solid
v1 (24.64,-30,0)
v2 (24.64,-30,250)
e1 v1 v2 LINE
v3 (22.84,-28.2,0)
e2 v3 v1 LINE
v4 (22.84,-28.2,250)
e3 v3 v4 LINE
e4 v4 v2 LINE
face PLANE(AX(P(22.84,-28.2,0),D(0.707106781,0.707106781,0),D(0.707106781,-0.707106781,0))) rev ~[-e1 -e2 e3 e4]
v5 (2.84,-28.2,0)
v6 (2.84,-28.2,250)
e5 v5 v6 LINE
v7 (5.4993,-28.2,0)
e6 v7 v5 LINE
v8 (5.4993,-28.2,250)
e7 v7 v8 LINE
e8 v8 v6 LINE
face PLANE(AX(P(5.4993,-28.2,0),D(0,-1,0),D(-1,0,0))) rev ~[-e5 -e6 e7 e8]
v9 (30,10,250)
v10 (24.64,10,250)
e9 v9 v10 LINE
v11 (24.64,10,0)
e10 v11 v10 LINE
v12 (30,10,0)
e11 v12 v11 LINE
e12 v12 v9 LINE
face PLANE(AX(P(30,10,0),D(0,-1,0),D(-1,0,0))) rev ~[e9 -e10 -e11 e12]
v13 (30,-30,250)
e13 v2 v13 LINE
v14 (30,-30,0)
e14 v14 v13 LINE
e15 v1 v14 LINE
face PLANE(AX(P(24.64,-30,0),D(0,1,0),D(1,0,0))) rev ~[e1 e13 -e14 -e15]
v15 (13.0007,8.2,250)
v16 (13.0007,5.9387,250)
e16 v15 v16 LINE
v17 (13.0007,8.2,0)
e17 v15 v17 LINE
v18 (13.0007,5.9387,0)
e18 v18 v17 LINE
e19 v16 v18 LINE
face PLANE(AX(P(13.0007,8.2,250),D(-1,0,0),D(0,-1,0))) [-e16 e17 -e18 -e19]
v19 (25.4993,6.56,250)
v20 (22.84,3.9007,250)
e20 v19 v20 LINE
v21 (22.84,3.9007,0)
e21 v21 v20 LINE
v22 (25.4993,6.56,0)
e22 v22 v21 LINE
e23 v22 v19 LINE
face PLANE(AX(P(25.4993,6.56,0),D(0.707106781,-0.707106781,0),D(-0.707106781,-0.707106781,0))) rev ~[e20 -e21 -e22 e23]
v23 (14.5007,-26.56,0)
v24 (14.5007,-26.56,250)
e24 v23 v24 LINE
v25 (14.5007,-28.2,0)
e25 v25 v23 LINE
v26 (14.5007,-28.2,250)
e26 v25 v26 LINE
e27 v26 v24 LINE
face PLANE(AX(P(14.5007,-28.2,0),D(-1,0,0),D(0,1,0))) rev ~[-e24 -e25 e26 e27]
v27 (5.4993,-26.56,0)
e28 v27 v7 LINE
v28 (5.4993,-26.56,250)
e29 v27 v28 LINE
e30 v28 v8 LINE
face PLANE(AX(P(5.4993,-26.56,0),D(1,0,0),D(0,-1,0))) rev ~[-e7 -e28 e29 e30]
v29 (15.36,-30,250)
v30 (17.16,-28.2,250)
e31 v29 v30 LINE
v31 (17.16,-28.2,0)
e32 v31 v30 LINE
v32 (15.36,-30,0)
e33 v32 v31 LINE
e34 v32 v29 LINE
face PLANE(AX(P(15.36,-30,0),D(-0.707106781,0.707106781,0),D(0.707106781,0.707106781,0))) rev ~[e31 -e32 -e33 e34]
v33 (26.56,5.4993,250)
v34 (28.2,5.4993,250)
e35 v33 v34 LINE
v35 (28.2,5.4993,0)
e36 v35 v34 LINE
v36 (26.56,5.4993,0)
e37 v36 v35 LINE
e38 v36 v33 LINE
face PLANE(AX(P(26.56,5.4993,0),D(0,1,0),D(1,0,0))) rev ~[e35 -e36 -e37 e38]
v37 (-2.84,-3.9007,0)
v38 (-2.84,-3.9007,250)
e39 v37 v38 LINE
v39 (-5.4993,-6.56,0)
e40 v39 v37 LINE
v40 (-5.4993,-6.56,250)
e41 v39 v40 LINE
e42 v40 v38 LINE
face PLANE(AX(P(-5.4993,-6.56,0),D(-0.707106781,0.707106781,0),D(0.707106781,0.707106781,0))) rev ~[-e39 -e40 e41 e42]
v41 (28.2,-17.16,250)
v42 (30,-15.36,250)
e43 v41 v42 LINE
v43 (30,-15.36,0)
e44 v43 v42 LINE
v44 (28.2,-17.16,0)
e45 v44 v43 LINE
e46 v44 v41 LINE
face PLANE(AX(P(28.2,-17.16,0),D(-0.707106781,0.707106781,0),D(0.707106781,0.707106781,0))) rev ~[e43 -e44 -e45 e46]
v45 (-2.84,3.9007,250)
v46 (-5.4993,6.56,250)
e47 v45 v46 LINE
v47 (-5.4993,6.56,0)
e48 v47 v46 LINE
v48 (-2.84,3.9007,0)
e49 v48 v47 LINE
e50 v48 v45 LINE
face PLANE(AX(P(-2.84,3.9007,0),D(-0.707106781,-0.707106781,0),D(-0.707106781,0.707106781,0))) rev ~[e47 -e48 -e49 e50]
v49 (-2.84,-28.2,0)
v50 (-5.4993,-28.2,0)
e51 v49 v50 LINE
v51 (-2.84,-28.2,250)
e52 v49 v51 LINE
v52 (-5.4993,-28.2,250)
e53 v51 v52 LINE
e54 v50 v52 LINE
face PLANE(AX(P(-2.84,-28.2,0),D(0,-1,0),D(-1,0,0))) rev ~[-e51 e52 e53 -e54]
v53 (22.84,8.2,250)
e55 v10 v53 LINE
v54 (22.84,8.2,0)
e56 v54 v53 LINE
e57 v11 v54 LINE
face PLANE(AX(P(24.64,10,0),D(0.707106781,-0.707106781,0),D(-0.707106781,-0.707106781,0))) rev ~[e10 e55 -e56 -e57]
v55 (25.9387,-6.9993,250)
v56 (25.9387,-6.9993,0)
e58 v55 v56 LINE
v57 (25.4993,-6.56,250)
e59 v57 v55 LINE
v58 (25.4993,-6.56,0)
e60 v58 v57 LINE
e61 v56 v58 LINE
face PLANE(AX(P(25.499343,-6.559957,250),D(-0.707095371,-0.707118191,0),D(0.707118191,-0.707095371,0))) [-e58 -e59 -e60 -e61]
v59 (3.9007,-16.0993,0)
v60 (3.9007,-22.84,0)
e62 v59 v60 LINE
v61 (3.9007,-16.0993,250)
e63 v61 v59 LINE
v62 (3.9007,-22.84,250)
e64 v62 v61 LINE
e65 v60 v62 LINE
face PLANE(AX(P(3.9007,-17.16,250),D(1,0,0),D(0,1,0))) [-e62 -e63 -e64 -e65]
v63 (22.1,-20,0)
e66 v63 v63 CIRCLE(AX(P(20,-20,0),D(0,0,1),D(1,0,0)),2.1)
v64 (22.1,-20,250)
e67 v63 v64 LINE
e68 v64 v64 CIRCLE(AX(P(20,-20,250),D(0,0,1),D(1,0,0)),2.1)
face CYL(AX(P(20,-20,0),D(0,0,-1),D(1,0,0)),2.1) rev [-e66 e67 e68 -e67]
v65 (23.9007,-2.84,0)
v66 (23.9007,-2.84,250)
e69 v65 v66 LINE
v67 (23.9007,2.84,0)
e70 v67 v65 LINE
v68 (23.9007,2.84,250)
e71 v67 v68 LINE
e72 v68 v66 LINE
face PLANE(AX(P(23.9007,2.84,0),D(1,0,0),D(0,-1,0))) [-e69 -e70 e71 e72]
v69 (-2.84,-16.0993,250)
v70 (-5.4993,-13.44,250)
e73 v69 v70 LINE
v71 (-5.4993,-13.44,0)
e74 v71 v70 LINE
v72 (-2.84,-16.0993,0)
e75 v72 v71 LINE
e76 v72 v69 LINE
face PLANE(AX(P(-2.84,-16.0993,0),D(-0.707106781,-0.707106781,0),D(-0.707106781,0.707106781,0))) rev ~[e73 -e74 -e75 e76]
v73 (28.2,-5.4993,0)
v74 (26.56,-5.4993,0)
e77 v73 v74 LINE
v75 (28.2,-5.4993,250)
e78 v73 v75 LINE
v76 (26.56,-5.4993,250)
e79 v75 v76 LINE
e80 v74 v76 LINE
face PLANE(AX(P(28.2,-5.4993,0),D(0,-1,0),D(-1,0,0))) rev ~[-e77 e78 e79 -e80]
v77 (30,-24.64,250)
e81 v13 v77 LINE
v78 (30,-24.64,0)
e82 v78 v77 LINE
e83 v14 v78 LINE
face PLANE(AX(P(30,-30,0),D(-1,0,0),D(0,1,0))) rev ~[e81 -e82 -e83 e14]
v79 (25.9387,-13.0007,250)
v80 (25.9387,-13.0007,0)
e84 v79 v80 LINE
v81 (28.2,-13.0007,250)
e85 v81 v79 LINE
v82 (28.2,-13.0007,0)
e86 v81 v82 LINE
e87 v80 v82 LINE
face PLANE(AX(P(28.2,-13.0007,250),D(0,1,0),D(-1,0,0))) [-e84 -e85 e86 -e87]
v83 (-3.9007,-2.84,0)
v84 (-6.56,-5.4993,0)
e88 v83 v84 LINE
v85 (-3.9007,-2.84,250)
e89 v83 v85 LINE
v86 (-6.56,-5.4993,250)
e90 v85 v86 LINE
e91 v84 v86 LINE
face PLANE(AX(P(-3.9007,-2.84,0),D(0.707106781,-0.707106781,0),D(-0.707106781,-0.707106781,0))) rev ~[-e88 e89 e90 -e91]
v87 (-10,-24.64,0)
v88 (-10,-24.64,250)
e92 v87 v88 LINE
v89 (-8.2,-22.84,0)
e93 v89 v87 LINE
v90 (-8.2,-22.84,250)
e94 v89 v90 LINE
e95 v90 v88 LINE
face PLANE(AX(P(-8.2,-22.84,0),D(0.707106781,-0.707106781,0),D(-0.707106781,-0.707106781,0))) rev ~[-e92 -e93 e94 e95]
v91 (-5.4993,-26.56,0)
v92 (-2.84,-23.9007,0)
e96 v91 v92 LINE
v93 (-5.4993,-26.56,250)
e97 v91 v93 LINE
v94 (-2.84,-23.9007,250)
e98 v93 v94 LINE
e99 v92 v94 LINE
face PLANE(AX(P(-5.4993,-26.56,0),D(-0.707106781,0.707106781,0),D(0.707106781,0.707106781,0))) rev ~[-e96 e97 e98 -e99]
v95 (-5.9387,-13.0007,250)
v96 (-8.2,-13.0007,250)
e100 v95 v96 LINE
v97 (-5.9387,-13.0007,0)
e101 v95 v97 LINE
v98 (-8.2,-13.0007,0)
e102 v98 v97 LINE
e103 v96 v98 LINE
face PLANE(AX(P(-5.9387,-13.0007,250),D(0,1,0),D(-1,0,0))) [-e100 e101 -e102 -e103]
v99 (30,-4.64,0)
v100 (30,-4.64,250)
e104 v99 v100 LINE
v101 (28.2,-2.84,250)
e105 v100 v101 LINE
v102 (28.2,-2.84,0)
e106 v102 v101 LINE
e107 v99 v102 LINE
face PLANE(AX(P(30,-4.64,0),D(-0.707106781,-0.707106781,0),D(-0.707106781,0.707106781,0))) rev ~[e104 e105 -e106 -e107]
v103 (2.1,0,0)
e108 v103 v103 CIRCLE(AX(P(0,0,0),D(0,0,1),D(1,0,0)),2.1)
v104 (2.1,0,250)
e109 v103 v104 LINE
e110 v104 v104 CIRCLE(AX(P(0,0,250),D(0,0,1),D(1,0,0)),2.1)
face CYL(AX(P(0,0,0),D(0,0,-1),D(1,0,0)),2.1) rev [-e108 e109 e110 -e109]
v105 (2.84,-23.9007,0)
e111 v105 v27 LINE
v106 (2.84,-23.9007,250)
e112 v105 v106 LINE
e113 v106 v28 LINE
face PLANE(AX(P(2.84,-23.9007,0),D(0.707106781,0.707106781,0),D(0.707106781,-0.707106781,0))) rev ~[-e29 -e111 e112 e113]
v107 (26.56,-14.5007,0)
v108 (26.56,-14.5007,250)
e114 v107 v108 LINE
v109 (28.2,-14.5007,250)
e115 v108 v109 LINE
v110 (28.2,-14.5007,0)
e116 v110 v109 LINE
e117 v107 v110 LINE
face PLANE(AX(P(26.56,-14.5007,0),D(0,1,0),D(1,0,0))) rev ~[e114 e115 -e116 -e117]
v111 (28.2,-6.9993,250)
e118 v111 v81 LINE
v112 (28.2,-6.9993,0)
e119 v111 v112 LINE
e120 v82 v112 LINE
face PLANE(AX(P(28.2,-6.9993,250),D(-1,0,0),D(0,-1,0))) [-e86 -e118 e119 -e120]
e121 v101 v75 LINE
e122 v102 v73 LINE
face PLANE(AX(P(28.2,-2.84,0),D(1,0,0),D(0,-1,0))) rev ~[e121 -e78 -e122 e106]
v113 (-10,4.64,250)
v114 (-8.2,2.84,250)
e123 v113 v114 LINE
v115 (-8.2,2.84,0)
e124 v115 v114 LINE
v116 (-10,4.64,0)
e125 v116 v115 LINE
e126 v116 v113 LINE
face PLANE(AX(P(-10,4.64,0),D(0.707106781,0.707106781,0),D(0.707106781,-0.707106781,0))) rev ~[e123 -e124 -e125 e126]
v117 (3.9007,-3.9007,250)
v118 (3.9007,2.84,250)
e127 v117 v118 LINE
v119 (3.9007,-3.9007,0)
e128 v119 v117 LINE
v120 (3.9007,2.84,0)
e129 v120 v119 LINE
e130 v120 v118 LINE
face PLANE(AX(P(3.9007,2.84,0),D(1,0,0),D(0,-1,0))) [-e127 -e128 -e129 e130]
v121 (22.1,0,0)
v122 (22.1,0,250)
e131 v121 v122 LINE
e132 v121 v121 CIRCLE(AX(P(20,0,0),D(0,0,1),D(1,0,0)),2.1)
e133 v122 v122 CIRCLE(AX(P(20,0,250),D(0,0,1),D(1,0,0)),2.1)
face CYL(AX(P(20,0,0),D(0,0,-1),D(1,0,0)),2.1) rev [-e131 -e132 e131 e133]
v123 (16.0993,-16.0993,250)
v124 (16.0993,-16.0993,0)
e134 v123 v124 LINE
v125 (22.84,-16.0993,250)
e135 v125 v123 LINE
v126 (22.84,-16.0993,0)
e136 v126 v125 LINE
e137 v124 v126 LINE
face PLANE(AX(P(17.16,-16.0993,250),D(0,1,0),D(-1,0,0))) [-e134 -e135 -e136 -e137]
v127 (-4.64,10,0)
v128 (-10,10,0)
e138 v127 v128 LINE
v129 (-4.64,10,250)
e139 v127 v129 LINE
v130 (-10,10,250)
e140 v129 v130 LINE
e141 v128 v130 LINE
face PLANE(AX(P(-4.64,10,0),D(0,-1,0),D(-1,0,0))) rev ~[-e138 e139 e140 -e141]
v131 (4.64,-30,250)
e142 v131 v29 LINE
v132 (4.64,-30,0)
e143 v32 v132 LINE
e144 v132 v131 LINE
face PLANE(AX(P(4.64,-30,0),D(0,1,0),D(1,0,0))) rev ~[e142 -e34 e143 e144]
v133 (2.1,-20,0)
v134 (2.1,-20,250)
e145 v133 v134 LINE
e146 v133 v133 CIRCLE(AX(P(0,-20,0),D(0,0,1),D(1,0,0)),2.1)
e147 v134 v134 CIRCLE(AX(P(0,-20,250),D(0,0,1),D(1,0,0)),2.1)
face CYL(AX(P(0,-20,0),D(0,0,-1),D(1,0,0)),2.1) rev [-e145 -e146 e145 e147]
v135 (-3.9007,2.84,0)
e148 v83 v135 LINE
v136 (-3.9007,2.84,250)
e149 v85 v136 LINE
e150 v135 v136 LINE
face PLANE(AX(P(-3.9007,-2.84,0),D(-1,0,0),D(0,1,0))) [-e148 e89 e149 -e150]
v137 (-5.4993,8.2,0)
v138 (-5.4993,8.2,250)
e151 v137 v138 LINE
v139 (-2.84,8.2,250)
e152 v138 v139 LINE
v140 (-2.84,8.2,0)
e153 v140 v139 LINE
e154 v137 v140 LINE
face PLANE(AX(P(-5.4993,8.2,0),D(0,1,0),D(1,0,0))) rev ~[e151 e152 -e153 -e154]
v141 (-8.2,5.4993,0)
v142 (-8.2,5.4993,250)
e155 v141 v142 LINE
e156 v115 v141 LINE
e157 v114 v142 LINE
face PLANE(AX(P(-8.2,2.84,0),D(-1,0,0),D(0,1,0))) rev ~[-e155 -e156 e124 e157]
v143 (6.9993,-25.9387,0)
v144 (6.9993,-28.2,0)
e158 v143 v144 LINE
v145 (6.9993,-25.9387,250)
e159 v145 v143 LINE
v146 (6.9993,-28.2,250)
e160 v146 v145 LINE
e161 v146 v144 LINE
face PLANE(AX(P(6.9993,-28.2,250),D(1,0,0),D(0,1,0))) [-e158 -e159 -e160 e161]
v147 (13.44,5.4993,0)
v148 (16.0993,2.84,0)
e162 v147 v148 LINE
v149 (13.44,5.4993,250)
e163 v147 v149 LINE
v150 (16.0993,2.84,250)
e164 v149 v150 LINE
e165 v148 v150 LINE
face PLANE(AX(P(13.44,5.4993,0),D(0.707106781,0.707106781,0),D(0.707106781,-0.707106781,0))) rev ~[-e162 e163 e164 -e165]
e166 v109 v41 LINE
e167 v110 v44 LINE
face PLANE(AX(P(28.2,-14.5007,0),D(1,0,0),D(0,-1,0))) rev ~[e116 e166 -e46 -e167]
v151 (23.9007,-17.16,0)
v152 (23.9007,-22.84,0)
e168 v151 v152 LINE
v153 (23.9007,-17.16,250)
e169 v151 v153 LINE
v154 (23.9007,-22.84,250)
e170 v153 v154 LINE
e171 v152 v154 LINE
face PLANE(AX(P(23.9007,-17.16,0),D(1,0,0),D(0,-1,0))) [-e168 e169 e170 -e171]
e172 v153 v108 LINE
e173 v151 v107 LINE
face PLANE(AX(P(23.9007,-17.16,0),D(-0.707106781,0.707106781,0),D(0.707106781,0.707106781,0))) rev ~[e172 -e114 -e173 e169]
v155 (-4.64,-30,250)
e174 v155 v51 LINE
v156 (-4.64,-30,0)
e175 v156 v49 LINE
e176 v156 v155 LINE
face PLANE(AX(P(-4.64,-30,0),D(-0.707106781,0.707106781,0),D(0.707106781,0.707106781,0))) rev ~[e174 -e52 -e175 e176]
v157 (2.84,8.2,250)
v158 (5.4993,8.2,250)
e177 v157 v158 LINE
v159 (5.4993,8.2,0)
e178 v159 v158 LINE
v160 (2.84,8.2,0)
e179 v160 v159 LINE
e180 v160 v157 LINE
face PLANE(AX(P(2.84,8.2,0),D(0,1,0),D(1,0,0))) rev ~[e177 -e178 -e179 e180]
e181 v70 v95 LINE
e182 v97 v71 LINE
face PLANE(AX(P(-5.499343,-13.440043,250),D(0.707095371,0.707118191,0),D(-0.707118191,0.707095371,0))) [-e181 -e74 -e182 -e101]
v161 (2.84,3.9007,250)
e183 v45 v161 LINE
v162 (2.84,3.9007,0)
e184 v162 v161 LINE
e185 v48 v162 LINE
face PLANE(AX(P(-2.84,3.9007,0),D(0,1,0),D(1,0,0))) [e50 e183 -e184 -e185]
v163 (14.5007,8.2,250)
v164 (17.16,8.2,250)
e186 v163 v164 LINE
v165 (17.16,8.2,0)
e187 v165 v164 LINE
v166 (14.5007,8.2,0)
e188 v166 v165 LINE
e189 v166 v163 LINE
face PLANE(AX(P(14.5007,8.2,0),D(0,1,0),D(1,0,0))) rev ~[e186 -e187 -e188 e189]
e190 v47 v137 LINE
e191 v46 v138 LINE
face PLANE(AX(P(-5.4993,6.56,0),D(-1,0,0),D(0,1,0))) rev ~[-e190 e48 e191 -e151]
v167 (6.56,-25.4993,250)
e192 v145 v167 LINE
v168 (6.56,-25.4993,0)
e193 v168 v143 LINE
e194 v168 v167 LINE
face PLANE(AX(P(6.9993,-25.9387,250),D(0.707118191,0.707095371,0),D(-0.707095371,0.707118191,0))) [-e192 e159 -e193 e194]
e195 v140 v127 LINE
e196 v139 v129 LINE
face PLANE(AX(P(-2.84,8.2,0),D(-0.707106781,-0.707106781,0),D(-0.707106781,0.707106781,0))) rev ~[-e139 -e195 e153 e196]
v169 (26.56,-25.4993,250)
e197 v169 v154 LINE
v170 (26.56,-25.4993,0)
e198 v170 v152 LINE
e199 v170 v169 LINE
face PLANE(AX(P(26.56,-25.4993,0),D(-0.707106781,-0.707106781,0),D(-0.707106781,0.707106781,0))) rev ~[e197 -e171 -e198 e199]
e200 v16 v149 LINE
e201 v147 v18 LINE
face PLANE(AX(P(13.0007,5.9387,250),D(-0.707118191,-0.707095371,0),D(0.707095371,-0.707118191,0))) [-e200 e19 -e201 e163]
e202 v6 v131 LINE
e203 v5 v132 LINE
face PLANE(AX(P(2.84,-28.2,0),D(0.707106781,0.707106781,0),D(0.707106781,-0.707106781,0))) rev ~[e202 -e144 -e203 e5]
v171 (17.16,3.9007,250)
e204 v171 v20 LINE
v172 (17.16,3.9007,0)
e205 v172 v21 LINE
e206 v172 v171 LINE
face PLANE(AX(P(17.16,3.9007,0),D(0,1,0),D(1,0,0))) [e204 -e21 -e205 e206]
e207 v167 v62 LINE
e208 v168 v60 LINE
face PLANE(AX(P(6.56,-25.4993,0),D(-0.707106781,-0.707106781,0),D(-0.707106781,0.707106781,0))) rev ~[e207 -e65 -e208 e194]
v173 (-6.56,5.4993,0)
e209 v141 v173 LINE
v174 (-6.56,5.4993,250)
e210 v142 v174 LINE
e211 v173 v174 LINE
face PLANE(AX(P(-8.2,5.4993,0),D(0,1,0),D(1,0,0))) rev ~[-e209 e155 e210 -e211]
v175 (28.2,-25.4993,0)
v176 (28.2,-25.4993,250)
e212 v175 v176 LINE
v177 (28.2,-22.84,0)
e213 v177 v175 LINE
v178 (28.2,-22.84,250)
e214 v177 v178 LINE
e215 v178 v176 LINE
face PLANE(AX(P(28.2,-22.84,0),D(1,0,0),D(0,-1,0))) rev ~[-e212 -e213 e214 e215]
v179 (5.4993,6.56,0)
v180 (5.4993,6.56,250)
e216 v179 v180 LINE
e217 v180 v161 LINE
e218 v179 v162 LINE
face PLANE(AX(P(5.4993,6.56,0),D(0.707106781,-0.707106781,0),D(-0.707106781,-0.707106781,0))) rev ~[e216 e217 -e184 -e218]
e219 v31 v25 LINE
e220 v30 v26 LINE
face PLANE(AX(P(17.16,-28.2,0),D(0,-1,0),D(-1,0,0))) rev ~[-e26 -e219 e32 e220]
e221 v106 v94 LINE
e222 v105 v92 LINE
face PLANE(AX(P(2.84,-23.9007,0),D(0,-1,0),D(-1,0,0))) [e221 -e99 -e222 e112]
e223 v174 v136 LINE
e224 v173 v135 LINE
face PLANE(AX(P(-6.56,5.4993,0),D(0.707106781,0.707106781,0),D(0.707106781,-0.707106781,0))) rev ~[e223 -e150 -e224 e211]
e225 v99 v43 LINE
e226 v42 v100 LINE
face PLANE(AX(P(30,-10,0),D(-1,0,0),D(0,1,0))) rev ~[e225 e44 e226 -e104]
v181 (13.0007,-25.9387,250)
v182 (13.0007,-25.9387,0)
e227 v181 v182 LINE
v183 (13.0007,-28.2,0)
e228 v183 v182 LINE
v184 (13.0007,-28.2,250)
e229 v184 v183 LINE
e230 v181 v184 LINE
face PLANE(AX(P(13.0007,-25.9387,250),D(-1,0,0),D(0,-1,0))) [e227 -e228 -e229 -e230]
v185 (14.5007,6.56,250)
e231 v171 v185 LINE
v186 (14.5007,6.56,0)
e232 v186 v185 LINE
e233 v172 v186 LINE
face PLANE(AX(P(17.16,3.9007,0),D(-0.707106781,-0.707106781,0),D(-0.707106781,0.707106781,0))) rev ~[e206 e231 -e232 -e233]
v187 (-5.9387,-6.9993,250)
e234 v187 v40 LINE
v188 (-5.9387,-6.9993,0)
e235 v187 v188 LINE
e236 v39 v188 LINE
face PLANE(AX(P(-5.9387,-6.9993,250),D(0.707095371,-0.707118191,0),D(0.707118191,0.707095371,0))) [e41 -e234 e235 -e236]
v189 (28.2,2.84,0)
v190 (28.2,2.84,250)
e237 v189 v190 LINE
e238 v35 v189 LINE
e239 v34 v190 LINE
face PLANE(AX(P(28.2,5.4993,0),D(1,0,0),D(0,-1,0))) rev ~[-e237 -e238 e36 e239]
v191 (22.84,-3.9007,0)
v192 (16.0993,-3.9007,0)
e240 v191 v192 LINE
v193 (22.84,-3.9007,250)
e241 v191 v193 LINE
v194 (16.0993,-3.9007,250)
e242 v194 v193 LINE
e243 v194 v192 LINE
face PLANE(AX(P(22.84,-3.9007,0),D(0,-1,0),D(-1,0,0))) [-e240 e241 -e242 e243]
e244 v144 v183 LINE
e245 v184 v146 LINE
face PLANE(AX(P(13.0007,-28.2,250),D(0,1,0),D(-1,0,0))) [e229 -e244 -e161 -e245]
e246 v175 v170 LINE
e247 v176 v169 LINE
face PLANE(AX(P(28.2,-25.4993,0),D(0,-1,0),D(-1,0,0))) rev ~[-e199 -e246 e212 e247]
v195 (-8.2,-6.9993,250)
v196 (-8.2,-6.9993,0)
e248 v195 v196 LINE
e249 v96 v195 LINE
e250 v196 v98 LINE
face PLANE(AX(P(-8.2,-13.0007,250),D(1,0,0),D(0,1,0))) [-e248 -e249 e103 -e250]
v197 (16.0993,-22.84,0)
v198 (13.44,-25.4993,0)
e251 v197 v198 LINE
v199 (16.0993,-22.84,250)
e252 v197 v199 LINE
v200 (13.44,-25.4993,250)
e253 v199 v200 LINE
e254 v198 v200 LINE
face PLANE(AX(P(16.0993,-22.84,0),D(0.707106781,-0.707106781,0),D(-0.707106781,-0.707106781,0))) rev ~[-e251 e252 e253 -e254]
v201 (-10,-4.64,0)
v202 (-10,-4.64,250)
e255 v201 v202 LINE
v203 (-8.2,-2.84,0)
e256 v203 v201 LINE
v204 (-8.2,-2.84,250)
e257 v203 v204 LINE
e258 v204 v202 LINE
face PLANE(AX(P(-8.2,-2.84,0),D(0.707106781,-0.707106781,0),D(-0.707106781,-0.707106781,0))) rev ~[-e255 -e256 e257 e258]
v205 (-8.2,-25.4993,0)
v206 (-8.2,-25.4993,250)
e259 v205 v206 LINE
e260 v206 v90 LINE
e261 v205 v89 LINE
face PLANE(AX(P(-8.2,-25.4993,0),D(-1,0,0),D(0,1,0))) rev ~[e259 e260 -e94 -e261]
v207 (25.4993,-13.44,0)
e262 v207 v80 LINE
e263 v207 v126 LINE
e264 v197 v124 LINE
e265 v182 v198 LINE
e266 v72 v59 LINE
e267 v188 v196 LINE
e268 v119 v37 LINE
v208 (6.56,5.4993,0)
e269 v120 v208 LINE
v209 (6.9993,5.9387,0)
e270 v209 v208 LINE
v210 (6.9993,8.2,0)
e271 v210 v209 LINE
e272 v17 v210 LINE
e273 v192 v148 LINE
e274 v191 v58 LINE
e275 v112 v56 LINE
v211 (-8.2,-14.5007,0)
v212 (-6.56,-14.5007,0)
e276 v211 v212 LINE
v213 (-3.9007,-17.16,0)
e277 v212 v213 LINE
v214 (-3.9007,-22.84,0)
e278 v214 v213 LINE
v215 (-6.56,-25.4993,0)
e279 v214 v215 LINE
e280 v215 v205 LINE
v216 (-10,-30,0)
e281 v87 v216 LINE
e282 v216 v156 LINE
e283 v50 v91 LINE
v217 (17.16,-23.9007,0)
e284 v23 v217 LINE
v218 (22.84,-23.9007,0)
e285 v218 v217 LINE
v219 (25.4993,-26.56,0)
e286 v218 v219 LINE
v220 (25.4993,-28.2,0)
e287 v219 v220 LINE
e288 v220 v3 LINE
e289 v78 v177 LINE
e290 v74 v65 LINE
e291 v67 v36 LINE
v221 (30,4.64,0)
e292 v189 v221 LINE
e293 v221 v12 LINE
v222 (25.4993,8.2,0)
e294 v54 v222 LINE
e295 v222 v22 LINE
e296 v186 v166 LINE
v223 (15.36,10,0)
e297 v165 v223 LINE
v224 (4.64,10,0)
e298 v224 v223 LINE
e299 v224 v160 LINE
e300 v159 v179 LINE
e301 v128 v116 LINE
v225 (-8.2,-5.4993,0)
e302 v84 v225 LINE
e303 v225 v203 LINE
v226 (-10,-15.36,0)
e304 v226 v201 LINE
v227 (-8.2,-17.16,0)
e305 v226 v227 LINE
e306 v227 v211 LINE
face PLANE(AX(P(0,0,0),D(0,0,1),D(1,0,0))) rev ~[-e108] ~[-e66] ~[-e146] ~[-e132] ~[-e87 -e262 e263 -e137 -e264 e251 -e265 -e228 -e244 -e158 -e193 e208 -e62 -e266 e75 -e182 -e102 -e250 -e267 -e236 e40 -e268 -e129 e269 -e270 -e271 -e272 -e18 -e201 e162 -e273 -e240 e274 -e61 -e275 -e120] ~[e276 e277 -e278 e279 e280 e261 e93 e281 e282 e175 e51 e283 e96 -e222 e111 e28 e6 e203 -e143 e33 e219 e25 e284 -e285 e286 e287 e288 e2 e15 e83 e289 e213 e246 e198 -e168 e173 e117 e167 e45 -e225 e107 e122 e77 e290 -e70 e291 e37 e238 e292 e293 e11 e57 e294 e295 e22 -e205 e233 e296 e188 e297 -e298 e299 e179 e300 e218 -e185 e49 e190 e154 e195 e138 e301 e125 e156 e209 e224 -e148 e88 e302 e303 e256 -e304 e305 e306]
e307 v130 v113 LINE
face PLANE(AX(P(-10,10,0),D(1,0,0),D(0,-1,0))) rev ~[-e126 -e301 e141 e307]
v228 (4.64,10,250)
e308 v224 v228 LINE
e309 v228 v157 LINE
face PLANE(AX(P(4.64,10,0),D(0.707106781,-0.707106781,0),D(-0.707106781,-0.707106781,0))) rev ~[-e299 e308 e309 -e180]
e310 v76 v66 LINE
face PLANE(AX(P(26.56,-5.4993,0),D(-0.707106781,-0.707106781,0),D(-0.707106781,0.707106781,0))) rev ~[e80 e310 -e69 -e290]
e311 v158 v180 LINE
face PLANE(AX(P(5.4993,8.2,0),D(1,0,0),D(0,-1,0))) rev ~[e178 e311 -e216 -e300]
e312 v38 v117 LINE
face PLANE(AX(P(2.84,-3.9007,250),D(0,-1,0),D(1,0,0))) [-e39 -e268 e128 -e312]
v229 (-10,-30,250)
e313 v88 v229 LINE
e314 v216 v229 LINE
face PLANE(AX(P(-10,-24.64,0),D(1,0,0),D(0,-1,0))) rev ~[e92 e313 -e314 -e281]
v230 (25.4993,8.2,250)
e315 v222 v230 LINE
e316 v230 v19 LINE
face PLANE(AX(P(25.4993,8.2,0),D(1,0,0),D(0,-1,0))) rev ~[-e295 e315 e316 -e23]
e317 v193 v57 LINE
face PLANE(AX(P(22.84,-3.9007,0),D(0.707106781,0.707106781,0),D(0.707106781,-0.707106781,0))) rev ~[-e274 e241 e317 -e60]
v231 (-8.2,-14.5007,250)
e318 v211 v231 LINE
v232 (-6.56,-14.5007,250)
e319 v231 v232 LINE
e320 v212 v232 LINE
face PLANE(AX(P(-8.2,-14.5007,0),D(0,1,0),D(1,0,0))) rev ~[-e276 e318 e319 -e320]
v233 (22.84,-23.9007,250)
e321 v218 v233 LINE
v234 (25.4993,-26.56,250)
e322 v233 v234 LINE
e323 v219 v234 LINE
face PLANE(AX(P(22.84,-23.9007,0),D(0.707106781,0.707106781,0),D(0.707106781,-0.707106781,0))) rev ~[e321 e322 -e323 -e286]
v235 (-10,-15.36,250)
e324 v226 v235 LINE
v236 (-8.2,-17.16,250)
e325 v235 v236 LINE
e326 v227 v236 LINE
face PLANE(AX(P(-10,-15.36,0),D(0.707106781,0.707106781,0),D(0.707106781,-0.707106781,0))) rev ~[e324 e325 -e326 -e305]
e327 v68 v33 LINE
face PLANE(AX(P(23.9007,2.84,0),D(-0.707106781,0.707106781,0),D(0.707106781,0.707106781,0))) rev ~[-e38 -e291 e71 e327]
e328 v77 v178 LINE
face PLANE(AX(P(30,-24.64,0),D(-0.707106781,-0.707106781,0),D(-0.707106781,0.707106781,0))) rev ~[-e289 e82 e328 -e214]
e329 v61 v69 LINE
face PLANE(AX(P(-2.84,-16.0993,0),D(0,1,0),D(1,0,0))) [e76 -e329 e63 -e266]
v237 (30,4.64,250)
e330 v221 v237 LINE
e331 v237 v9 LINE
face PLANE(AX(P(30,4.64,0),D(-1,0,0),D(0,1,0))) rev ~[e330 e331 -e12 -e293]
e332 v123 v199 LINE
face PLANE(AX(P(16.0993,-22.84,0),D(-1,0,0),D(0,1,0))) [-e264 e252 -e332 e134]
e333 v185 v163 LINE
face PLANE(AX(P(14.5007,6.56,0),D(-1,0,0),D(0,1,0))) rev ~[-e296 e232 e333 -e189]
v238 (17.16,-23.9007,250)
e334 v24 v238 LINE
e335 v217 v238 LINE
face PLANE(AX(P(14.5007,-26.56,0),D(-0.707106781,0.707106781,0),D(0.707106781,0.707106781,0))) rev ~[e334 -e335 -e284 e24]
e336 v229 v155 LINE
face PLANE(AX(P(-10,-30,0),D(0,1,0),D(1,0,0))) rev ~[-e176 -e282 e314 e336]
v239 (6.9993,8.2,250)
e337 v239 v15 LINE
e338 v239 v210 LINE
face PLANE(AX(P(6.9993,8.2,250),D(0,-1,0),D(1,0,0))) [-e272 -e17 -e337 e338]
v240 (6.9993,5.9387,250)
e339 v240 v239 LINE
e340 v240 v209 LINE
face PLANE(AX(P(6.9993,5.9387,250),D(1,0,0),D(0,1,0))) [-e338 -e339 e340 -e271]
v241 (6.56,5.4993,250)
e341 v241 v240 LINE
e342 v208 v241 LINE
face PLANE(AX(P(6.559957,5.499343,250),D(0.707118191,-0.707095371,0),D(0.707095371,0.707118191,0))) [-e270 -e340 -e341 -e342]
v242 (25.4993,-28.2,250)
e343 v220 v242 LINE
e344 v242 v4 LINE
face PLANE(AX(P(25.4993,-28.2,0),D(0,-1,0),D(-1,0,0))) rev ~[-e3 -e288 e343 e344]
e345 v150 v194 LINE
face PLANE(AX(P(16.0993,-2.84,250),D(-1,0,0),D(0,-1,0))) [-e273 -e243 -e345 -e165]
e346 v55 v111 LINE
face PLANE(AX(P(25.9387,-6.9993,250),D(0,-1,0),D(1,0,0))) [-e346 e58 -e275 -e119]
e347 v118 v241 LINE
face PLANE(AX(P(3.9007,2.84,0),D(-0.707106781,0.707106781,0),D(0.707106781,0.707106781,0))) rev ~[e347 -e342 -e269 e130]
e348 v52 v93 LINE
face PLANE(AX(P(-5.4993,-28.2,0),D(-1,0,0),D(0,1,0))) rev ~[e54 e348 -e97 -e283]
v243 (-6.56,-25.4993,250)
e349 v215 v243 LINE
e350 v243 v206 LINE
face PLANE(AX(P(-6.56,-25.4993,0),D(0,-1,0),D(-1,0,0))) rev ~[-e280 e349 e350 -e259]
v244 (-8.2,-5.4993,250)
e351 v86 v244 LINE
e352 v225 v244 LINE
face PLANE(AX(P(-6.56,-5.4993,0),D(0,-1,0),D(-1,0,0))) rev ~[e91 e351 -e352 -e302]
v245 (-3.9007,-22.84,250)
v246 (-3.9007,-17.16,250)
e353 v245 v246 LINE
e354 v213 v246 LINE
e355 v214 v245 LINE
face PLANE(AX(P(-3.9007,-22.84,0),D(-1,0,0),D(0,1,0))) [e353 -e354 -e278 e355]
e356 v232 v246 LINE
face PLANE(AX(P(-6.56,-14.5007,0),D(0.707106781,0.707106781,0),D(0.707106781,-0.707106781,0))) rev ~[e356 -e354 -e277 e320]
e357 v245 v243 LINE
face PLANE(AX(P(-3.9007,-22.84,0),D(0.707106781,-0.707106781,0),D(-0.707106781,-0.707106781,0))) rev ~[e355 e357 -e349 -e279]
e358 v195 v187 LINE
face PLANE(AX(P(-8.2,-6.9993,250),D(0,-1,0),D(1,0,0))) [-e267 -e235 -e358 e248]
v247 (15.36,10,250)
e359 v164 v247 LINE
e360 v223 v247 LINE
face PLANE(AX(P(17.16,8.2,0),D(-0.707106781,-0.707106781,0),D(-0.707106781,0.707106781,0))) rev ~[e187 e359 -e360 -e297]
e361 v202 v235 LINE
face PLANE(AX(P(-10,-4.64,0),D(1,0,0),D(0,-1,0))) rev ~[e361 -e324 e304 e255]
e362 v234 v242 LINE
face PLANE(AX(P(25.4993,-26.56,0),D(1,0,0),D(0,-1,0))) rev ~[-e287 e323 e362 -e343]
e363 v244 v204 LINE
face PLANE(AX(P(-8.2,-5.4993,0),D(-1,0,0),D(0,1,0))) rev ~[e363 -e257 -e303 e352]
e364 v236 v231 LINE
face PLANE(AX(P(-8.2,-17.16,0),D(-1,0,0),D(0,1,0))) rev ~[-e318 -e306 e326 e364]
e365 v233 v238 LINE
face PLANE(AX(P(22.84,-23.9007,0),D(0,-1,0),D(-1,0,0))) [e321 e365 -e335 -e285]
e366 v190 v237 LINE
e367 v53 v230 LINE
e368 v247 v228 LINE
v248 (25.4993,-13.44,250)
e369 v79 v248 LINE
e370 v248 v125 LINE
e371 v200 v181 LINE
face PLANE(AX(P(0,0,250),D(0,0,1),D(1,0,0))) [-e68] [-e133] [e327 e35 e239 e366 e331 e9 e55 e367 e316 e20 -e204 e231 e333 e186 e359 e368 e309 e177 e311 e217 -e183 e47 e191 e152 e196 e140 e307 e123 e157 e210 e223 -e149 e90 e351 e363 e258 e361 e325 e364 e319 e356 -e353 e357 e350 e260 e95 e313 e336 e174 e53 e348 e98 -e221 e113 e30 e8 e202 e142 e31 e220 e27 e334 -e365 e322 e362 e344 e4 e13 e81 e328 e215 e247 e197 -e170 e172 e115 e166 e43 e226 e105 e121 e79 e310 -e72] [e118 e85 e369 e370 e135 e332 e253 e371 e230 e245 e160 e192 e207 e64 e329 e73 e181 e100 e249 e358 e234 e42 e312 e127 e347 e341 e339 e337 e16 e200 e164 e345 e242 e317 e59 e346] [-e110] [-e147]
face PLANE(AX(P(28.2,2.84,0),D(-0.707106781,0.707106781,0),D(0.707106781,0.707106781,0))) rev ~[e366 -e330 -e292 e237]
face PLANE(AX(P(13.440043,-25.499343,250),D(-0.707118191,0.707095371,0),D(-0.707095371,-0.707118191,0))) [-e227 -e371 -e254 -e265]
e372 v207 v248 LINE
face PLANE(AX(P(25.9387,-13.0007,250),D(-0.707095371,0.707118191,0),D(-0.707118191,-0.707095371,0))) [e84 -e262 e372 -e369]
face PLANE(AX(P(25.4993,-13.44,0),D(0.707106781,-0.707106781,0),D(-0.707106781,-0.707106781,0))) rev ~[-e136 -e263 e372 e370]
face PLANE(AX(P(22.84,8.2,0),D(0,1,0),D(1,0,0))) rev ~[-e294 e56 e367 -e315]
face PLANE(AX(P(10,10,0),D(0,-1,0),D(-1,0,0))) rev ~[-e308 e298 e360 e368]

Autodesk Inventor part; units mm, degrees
ref_plane "YZ Plane" through (0, 0, 0) normal (1, 0, 0) x (0, 1, 0)
ref_plane "XZ Plane" through (0, 0, 0) normal (0, 1, 0) x (-1, 0, 0)
ref_plane "XY Plane" through (0, 0, 0) normal (0, 0, 1) x (1, 0, 0)
sketch "Sketch1" plane through (0, 0, 0) normal (0, 0, 1) x (1, 0, 0)
  line L0 (-3.9007, 3.9007) -> (3.9007, 3.9007)
  line L1 (3.9007, 3.9007) -> (3.9007, -3.9007)
  line L2 (3.9007, -3.9007) -> (-3.9007, -3.9007)
  line L3 (-3.9007, -3.9007) -> (-3.9007, 3.9007)
  line L4 (0, 3.9007) -> (0, -3.9007) construction
  line L5 (-3.9007, 0) -> (3.9007, 0) construction
  circle A0 centre (0, 0) radius 2.1
  line L6 (0, 0) -> (-16.1173, 16.1173) construction
  line L7 (0, 0) -> (22.7933, 0) construction
  line L8 (-2.84, 3.9007) -> (-5.4993, 6.56)
  line L9 (-5.4993, 6.56) -> (-5.4993, 8.2)
  line L10 (-5.4993, 8.2) -> (-2.84, 8.2)
  line L11 (-2.84, 8.2) -> (-4.64, 10)
  line L12 (-4.64, 10) -> (-10, 10)
  line L13 (-10, 10) -> (-10, 4.64)
  line L14 (-10, 4.64) -> (-8.2, 2.84)
  line L15 (-8.2, 2.84) -> (-8.2, 5.4993)
  line L16 (-8.2, 5.4993) -> (-6.56, 5.4993)
  line L17 (-6.56, 5.4993) -> (-3.9007, 2.84)
  line L18 (-3.9007, 2.84) -> (-11.3102, 2.84) construction
  line L19 (-2.84, 3.9007) -> (-3.9007, 3.9007)
  line L20 (-3.9007, 2.84) -> (-3.9007, 3.9007)
  line L21 (-3.9007, -2.84) -> (-6.56, -5.4993)
  line L22 (-6.56, -5.4993) -> (-8.2, -5.4993)
  line L23 (-8.2, -5.4993) -> (-8.2, -2.84)
  line L24 (-8.2, -2.84) -> (-10, -4.64)
  line L25 (-10, -4.64) -> (-10, -10)
  line L26 (-10, -10) -> (-4.64, -10)
  line L27 (-4.64, -10) -> (-2.84, -8.2)
  line L28 (-2.84, -8.2) -> (-5.4993, -8.2)
  line L29 (-5.4993, -8.2) -> (-5.4993, -6.56)
  line L30 (-5.4993, -6.56) -> (-2.84, -3.9007)
  line L31 (-3.9007, -2.84) -> (-3.9007, -3.9007)
  line L32 (-2.84, -3.9007) -> (-3.9007, -3.9007)
  line L33 (2.84, -3.9007) -> (5.4993, -6.56)
  line L34 (5.4993, -6.56) -> (5.4993, -8.2)
  line L35 (5.4993, -8.2) -> (2.84, -8.2)
  line L36 (2.84, -8.2) -> (4.64, -10)
  line L37 (4.64, -10) -> (10, -10)
  line L38 (10, -10) -> (10, -4.64)
  line L39 (10, -4.64) -> (8.2, -2.84)
  line L40 (8.2, -2.84) -> (8.2, -5.4993)
  line L41 (8.2, -5.4993) -> (6.56, -5.4993)
  line L42 (6.56, -5.4993) -> (3.9007, -2.84)
  line L43 (2.84, -3.9007) -> (3.9007, -3.9007)
  line L44 (3.9007, -2.84) -> (3.9007, -3.9007)
  line L45 (3.9007, 2.84) -> (6.56, 5.4993)
  line L46 (6.56, 5.4993) -> (8.2, 5.4993)
  line L47 (8.2, 5.4993) -> (8.2, 2.84)
  line L48 (8.2, 2.84) -> (10, 4.64)
  line L49 (10, 4.64) -> (10, 10)
  line L50 (10, 10) -> (4.64, 10)
  line L51 (4.64, 10) -> (2.84, 8.2)
  line L52 (2.84, 8.2) -> (5.4993, 8.2)
  line L53 (5.4993, 8.2) -> (5.4993, 6.56)
  line L54 (5.4993, 6.56) -> (2.84, 3.9007)
  line L55 (3.9007, 2.84) -> (3.9007, 3.9007)
  line L56 (2.84, 3.9007) -> (3.9007, 3.9007)
  dimension "d7" = 4.2
  dimension "d8" = 135
  dimension "d9" = 1.5
  dimension "d10" = 1.64
  dimension "d11" = 1.8
  dimension "d12" = 2.84
  dimension "d13" = 10
  dimension "d16" = 360
extrude "Extrusion1" add sketch "Sketch1" along normal blind 250
pattern_linear "Rectangular Pattern1" count 2 spacing 20 along (0, -1, 0) count 2 spacing 20 along (1, 0, 0) of "Extrusion1"
sketch "Sketch2" plane through (0, 0, 250) normal (0, 0, 1) x (1, 0, 0)
  line L0 (-6.56, -5.4993) -> (-8.2, -5.4993) projected
  line L1 (-8.2, -5.4993) -> (-8.2, -2.84) projected
  line L2 (-8.2, -14.5007) -> (-6.56, -14.5007) projected
  line L3 (5.4993, -11.8) -> (5.4993, -13.44) projected
  line L4 (-2.84, -16.0993) -> (-5.4993, -13.44) projected
  line L5 (-5.4993, -8.2) -> (-5.4993, -6.56) projected
  line L6 (-5.4993, -6.56) -> (-2.84, -3.9007) projected
  line L7 (2.84, -8.2) -> (4.64, -10) projected
  line L8 (-8.2, -6.9993) -> (-5.9387, -6.9993)
  line L9 (-5.9387, -6.9993) -> (-2.84, -3.9007)
  line L10 (-2.84, -3.9007) -> (12.9258, -3.9007)
  line L11 (12.9258, -16.0993) -> (-2.84, -16.0993)
  line L12 (-2.84, -16.0993) -> (-5.9387, -13.0007)
  line L13 (-5.9387, -13.0007) -> (-8.2, -13.0007)
  line L14 (-8.2, -13.0007) -> (-8.2, -6.9993)
  line L15 (2.84, -16.0993) -> (-2.84, -16.0993) projected
  line L16 (-2.84, -3.9007) -> (2.84, -3.9007) projected
  line L17 (12.9258, -16.0993) -> (12.9258, -3.9007)
  dimension "d23" = 1.5
  dimension "d26" = 1.5
extrude "Extrusion2" cut sketch "Sketch2" against normal up to next
ref_plane "Work Plane1" through (10, -15.36, 0) normal (1, 0, 0) x (0, 0, -1)
ref_plane "Work Plane2" through (4.64, -10, 250) normal (0, 1, 0) x (1, 0, 0)
pattern_circular "Circular Pattern1" count 4 over 360 about axis through (10, -10, 0) along (0, 0, 1) of "Extrusion2"
equation "\"d26\" = d23"
properties part number "40x40x250mm"
